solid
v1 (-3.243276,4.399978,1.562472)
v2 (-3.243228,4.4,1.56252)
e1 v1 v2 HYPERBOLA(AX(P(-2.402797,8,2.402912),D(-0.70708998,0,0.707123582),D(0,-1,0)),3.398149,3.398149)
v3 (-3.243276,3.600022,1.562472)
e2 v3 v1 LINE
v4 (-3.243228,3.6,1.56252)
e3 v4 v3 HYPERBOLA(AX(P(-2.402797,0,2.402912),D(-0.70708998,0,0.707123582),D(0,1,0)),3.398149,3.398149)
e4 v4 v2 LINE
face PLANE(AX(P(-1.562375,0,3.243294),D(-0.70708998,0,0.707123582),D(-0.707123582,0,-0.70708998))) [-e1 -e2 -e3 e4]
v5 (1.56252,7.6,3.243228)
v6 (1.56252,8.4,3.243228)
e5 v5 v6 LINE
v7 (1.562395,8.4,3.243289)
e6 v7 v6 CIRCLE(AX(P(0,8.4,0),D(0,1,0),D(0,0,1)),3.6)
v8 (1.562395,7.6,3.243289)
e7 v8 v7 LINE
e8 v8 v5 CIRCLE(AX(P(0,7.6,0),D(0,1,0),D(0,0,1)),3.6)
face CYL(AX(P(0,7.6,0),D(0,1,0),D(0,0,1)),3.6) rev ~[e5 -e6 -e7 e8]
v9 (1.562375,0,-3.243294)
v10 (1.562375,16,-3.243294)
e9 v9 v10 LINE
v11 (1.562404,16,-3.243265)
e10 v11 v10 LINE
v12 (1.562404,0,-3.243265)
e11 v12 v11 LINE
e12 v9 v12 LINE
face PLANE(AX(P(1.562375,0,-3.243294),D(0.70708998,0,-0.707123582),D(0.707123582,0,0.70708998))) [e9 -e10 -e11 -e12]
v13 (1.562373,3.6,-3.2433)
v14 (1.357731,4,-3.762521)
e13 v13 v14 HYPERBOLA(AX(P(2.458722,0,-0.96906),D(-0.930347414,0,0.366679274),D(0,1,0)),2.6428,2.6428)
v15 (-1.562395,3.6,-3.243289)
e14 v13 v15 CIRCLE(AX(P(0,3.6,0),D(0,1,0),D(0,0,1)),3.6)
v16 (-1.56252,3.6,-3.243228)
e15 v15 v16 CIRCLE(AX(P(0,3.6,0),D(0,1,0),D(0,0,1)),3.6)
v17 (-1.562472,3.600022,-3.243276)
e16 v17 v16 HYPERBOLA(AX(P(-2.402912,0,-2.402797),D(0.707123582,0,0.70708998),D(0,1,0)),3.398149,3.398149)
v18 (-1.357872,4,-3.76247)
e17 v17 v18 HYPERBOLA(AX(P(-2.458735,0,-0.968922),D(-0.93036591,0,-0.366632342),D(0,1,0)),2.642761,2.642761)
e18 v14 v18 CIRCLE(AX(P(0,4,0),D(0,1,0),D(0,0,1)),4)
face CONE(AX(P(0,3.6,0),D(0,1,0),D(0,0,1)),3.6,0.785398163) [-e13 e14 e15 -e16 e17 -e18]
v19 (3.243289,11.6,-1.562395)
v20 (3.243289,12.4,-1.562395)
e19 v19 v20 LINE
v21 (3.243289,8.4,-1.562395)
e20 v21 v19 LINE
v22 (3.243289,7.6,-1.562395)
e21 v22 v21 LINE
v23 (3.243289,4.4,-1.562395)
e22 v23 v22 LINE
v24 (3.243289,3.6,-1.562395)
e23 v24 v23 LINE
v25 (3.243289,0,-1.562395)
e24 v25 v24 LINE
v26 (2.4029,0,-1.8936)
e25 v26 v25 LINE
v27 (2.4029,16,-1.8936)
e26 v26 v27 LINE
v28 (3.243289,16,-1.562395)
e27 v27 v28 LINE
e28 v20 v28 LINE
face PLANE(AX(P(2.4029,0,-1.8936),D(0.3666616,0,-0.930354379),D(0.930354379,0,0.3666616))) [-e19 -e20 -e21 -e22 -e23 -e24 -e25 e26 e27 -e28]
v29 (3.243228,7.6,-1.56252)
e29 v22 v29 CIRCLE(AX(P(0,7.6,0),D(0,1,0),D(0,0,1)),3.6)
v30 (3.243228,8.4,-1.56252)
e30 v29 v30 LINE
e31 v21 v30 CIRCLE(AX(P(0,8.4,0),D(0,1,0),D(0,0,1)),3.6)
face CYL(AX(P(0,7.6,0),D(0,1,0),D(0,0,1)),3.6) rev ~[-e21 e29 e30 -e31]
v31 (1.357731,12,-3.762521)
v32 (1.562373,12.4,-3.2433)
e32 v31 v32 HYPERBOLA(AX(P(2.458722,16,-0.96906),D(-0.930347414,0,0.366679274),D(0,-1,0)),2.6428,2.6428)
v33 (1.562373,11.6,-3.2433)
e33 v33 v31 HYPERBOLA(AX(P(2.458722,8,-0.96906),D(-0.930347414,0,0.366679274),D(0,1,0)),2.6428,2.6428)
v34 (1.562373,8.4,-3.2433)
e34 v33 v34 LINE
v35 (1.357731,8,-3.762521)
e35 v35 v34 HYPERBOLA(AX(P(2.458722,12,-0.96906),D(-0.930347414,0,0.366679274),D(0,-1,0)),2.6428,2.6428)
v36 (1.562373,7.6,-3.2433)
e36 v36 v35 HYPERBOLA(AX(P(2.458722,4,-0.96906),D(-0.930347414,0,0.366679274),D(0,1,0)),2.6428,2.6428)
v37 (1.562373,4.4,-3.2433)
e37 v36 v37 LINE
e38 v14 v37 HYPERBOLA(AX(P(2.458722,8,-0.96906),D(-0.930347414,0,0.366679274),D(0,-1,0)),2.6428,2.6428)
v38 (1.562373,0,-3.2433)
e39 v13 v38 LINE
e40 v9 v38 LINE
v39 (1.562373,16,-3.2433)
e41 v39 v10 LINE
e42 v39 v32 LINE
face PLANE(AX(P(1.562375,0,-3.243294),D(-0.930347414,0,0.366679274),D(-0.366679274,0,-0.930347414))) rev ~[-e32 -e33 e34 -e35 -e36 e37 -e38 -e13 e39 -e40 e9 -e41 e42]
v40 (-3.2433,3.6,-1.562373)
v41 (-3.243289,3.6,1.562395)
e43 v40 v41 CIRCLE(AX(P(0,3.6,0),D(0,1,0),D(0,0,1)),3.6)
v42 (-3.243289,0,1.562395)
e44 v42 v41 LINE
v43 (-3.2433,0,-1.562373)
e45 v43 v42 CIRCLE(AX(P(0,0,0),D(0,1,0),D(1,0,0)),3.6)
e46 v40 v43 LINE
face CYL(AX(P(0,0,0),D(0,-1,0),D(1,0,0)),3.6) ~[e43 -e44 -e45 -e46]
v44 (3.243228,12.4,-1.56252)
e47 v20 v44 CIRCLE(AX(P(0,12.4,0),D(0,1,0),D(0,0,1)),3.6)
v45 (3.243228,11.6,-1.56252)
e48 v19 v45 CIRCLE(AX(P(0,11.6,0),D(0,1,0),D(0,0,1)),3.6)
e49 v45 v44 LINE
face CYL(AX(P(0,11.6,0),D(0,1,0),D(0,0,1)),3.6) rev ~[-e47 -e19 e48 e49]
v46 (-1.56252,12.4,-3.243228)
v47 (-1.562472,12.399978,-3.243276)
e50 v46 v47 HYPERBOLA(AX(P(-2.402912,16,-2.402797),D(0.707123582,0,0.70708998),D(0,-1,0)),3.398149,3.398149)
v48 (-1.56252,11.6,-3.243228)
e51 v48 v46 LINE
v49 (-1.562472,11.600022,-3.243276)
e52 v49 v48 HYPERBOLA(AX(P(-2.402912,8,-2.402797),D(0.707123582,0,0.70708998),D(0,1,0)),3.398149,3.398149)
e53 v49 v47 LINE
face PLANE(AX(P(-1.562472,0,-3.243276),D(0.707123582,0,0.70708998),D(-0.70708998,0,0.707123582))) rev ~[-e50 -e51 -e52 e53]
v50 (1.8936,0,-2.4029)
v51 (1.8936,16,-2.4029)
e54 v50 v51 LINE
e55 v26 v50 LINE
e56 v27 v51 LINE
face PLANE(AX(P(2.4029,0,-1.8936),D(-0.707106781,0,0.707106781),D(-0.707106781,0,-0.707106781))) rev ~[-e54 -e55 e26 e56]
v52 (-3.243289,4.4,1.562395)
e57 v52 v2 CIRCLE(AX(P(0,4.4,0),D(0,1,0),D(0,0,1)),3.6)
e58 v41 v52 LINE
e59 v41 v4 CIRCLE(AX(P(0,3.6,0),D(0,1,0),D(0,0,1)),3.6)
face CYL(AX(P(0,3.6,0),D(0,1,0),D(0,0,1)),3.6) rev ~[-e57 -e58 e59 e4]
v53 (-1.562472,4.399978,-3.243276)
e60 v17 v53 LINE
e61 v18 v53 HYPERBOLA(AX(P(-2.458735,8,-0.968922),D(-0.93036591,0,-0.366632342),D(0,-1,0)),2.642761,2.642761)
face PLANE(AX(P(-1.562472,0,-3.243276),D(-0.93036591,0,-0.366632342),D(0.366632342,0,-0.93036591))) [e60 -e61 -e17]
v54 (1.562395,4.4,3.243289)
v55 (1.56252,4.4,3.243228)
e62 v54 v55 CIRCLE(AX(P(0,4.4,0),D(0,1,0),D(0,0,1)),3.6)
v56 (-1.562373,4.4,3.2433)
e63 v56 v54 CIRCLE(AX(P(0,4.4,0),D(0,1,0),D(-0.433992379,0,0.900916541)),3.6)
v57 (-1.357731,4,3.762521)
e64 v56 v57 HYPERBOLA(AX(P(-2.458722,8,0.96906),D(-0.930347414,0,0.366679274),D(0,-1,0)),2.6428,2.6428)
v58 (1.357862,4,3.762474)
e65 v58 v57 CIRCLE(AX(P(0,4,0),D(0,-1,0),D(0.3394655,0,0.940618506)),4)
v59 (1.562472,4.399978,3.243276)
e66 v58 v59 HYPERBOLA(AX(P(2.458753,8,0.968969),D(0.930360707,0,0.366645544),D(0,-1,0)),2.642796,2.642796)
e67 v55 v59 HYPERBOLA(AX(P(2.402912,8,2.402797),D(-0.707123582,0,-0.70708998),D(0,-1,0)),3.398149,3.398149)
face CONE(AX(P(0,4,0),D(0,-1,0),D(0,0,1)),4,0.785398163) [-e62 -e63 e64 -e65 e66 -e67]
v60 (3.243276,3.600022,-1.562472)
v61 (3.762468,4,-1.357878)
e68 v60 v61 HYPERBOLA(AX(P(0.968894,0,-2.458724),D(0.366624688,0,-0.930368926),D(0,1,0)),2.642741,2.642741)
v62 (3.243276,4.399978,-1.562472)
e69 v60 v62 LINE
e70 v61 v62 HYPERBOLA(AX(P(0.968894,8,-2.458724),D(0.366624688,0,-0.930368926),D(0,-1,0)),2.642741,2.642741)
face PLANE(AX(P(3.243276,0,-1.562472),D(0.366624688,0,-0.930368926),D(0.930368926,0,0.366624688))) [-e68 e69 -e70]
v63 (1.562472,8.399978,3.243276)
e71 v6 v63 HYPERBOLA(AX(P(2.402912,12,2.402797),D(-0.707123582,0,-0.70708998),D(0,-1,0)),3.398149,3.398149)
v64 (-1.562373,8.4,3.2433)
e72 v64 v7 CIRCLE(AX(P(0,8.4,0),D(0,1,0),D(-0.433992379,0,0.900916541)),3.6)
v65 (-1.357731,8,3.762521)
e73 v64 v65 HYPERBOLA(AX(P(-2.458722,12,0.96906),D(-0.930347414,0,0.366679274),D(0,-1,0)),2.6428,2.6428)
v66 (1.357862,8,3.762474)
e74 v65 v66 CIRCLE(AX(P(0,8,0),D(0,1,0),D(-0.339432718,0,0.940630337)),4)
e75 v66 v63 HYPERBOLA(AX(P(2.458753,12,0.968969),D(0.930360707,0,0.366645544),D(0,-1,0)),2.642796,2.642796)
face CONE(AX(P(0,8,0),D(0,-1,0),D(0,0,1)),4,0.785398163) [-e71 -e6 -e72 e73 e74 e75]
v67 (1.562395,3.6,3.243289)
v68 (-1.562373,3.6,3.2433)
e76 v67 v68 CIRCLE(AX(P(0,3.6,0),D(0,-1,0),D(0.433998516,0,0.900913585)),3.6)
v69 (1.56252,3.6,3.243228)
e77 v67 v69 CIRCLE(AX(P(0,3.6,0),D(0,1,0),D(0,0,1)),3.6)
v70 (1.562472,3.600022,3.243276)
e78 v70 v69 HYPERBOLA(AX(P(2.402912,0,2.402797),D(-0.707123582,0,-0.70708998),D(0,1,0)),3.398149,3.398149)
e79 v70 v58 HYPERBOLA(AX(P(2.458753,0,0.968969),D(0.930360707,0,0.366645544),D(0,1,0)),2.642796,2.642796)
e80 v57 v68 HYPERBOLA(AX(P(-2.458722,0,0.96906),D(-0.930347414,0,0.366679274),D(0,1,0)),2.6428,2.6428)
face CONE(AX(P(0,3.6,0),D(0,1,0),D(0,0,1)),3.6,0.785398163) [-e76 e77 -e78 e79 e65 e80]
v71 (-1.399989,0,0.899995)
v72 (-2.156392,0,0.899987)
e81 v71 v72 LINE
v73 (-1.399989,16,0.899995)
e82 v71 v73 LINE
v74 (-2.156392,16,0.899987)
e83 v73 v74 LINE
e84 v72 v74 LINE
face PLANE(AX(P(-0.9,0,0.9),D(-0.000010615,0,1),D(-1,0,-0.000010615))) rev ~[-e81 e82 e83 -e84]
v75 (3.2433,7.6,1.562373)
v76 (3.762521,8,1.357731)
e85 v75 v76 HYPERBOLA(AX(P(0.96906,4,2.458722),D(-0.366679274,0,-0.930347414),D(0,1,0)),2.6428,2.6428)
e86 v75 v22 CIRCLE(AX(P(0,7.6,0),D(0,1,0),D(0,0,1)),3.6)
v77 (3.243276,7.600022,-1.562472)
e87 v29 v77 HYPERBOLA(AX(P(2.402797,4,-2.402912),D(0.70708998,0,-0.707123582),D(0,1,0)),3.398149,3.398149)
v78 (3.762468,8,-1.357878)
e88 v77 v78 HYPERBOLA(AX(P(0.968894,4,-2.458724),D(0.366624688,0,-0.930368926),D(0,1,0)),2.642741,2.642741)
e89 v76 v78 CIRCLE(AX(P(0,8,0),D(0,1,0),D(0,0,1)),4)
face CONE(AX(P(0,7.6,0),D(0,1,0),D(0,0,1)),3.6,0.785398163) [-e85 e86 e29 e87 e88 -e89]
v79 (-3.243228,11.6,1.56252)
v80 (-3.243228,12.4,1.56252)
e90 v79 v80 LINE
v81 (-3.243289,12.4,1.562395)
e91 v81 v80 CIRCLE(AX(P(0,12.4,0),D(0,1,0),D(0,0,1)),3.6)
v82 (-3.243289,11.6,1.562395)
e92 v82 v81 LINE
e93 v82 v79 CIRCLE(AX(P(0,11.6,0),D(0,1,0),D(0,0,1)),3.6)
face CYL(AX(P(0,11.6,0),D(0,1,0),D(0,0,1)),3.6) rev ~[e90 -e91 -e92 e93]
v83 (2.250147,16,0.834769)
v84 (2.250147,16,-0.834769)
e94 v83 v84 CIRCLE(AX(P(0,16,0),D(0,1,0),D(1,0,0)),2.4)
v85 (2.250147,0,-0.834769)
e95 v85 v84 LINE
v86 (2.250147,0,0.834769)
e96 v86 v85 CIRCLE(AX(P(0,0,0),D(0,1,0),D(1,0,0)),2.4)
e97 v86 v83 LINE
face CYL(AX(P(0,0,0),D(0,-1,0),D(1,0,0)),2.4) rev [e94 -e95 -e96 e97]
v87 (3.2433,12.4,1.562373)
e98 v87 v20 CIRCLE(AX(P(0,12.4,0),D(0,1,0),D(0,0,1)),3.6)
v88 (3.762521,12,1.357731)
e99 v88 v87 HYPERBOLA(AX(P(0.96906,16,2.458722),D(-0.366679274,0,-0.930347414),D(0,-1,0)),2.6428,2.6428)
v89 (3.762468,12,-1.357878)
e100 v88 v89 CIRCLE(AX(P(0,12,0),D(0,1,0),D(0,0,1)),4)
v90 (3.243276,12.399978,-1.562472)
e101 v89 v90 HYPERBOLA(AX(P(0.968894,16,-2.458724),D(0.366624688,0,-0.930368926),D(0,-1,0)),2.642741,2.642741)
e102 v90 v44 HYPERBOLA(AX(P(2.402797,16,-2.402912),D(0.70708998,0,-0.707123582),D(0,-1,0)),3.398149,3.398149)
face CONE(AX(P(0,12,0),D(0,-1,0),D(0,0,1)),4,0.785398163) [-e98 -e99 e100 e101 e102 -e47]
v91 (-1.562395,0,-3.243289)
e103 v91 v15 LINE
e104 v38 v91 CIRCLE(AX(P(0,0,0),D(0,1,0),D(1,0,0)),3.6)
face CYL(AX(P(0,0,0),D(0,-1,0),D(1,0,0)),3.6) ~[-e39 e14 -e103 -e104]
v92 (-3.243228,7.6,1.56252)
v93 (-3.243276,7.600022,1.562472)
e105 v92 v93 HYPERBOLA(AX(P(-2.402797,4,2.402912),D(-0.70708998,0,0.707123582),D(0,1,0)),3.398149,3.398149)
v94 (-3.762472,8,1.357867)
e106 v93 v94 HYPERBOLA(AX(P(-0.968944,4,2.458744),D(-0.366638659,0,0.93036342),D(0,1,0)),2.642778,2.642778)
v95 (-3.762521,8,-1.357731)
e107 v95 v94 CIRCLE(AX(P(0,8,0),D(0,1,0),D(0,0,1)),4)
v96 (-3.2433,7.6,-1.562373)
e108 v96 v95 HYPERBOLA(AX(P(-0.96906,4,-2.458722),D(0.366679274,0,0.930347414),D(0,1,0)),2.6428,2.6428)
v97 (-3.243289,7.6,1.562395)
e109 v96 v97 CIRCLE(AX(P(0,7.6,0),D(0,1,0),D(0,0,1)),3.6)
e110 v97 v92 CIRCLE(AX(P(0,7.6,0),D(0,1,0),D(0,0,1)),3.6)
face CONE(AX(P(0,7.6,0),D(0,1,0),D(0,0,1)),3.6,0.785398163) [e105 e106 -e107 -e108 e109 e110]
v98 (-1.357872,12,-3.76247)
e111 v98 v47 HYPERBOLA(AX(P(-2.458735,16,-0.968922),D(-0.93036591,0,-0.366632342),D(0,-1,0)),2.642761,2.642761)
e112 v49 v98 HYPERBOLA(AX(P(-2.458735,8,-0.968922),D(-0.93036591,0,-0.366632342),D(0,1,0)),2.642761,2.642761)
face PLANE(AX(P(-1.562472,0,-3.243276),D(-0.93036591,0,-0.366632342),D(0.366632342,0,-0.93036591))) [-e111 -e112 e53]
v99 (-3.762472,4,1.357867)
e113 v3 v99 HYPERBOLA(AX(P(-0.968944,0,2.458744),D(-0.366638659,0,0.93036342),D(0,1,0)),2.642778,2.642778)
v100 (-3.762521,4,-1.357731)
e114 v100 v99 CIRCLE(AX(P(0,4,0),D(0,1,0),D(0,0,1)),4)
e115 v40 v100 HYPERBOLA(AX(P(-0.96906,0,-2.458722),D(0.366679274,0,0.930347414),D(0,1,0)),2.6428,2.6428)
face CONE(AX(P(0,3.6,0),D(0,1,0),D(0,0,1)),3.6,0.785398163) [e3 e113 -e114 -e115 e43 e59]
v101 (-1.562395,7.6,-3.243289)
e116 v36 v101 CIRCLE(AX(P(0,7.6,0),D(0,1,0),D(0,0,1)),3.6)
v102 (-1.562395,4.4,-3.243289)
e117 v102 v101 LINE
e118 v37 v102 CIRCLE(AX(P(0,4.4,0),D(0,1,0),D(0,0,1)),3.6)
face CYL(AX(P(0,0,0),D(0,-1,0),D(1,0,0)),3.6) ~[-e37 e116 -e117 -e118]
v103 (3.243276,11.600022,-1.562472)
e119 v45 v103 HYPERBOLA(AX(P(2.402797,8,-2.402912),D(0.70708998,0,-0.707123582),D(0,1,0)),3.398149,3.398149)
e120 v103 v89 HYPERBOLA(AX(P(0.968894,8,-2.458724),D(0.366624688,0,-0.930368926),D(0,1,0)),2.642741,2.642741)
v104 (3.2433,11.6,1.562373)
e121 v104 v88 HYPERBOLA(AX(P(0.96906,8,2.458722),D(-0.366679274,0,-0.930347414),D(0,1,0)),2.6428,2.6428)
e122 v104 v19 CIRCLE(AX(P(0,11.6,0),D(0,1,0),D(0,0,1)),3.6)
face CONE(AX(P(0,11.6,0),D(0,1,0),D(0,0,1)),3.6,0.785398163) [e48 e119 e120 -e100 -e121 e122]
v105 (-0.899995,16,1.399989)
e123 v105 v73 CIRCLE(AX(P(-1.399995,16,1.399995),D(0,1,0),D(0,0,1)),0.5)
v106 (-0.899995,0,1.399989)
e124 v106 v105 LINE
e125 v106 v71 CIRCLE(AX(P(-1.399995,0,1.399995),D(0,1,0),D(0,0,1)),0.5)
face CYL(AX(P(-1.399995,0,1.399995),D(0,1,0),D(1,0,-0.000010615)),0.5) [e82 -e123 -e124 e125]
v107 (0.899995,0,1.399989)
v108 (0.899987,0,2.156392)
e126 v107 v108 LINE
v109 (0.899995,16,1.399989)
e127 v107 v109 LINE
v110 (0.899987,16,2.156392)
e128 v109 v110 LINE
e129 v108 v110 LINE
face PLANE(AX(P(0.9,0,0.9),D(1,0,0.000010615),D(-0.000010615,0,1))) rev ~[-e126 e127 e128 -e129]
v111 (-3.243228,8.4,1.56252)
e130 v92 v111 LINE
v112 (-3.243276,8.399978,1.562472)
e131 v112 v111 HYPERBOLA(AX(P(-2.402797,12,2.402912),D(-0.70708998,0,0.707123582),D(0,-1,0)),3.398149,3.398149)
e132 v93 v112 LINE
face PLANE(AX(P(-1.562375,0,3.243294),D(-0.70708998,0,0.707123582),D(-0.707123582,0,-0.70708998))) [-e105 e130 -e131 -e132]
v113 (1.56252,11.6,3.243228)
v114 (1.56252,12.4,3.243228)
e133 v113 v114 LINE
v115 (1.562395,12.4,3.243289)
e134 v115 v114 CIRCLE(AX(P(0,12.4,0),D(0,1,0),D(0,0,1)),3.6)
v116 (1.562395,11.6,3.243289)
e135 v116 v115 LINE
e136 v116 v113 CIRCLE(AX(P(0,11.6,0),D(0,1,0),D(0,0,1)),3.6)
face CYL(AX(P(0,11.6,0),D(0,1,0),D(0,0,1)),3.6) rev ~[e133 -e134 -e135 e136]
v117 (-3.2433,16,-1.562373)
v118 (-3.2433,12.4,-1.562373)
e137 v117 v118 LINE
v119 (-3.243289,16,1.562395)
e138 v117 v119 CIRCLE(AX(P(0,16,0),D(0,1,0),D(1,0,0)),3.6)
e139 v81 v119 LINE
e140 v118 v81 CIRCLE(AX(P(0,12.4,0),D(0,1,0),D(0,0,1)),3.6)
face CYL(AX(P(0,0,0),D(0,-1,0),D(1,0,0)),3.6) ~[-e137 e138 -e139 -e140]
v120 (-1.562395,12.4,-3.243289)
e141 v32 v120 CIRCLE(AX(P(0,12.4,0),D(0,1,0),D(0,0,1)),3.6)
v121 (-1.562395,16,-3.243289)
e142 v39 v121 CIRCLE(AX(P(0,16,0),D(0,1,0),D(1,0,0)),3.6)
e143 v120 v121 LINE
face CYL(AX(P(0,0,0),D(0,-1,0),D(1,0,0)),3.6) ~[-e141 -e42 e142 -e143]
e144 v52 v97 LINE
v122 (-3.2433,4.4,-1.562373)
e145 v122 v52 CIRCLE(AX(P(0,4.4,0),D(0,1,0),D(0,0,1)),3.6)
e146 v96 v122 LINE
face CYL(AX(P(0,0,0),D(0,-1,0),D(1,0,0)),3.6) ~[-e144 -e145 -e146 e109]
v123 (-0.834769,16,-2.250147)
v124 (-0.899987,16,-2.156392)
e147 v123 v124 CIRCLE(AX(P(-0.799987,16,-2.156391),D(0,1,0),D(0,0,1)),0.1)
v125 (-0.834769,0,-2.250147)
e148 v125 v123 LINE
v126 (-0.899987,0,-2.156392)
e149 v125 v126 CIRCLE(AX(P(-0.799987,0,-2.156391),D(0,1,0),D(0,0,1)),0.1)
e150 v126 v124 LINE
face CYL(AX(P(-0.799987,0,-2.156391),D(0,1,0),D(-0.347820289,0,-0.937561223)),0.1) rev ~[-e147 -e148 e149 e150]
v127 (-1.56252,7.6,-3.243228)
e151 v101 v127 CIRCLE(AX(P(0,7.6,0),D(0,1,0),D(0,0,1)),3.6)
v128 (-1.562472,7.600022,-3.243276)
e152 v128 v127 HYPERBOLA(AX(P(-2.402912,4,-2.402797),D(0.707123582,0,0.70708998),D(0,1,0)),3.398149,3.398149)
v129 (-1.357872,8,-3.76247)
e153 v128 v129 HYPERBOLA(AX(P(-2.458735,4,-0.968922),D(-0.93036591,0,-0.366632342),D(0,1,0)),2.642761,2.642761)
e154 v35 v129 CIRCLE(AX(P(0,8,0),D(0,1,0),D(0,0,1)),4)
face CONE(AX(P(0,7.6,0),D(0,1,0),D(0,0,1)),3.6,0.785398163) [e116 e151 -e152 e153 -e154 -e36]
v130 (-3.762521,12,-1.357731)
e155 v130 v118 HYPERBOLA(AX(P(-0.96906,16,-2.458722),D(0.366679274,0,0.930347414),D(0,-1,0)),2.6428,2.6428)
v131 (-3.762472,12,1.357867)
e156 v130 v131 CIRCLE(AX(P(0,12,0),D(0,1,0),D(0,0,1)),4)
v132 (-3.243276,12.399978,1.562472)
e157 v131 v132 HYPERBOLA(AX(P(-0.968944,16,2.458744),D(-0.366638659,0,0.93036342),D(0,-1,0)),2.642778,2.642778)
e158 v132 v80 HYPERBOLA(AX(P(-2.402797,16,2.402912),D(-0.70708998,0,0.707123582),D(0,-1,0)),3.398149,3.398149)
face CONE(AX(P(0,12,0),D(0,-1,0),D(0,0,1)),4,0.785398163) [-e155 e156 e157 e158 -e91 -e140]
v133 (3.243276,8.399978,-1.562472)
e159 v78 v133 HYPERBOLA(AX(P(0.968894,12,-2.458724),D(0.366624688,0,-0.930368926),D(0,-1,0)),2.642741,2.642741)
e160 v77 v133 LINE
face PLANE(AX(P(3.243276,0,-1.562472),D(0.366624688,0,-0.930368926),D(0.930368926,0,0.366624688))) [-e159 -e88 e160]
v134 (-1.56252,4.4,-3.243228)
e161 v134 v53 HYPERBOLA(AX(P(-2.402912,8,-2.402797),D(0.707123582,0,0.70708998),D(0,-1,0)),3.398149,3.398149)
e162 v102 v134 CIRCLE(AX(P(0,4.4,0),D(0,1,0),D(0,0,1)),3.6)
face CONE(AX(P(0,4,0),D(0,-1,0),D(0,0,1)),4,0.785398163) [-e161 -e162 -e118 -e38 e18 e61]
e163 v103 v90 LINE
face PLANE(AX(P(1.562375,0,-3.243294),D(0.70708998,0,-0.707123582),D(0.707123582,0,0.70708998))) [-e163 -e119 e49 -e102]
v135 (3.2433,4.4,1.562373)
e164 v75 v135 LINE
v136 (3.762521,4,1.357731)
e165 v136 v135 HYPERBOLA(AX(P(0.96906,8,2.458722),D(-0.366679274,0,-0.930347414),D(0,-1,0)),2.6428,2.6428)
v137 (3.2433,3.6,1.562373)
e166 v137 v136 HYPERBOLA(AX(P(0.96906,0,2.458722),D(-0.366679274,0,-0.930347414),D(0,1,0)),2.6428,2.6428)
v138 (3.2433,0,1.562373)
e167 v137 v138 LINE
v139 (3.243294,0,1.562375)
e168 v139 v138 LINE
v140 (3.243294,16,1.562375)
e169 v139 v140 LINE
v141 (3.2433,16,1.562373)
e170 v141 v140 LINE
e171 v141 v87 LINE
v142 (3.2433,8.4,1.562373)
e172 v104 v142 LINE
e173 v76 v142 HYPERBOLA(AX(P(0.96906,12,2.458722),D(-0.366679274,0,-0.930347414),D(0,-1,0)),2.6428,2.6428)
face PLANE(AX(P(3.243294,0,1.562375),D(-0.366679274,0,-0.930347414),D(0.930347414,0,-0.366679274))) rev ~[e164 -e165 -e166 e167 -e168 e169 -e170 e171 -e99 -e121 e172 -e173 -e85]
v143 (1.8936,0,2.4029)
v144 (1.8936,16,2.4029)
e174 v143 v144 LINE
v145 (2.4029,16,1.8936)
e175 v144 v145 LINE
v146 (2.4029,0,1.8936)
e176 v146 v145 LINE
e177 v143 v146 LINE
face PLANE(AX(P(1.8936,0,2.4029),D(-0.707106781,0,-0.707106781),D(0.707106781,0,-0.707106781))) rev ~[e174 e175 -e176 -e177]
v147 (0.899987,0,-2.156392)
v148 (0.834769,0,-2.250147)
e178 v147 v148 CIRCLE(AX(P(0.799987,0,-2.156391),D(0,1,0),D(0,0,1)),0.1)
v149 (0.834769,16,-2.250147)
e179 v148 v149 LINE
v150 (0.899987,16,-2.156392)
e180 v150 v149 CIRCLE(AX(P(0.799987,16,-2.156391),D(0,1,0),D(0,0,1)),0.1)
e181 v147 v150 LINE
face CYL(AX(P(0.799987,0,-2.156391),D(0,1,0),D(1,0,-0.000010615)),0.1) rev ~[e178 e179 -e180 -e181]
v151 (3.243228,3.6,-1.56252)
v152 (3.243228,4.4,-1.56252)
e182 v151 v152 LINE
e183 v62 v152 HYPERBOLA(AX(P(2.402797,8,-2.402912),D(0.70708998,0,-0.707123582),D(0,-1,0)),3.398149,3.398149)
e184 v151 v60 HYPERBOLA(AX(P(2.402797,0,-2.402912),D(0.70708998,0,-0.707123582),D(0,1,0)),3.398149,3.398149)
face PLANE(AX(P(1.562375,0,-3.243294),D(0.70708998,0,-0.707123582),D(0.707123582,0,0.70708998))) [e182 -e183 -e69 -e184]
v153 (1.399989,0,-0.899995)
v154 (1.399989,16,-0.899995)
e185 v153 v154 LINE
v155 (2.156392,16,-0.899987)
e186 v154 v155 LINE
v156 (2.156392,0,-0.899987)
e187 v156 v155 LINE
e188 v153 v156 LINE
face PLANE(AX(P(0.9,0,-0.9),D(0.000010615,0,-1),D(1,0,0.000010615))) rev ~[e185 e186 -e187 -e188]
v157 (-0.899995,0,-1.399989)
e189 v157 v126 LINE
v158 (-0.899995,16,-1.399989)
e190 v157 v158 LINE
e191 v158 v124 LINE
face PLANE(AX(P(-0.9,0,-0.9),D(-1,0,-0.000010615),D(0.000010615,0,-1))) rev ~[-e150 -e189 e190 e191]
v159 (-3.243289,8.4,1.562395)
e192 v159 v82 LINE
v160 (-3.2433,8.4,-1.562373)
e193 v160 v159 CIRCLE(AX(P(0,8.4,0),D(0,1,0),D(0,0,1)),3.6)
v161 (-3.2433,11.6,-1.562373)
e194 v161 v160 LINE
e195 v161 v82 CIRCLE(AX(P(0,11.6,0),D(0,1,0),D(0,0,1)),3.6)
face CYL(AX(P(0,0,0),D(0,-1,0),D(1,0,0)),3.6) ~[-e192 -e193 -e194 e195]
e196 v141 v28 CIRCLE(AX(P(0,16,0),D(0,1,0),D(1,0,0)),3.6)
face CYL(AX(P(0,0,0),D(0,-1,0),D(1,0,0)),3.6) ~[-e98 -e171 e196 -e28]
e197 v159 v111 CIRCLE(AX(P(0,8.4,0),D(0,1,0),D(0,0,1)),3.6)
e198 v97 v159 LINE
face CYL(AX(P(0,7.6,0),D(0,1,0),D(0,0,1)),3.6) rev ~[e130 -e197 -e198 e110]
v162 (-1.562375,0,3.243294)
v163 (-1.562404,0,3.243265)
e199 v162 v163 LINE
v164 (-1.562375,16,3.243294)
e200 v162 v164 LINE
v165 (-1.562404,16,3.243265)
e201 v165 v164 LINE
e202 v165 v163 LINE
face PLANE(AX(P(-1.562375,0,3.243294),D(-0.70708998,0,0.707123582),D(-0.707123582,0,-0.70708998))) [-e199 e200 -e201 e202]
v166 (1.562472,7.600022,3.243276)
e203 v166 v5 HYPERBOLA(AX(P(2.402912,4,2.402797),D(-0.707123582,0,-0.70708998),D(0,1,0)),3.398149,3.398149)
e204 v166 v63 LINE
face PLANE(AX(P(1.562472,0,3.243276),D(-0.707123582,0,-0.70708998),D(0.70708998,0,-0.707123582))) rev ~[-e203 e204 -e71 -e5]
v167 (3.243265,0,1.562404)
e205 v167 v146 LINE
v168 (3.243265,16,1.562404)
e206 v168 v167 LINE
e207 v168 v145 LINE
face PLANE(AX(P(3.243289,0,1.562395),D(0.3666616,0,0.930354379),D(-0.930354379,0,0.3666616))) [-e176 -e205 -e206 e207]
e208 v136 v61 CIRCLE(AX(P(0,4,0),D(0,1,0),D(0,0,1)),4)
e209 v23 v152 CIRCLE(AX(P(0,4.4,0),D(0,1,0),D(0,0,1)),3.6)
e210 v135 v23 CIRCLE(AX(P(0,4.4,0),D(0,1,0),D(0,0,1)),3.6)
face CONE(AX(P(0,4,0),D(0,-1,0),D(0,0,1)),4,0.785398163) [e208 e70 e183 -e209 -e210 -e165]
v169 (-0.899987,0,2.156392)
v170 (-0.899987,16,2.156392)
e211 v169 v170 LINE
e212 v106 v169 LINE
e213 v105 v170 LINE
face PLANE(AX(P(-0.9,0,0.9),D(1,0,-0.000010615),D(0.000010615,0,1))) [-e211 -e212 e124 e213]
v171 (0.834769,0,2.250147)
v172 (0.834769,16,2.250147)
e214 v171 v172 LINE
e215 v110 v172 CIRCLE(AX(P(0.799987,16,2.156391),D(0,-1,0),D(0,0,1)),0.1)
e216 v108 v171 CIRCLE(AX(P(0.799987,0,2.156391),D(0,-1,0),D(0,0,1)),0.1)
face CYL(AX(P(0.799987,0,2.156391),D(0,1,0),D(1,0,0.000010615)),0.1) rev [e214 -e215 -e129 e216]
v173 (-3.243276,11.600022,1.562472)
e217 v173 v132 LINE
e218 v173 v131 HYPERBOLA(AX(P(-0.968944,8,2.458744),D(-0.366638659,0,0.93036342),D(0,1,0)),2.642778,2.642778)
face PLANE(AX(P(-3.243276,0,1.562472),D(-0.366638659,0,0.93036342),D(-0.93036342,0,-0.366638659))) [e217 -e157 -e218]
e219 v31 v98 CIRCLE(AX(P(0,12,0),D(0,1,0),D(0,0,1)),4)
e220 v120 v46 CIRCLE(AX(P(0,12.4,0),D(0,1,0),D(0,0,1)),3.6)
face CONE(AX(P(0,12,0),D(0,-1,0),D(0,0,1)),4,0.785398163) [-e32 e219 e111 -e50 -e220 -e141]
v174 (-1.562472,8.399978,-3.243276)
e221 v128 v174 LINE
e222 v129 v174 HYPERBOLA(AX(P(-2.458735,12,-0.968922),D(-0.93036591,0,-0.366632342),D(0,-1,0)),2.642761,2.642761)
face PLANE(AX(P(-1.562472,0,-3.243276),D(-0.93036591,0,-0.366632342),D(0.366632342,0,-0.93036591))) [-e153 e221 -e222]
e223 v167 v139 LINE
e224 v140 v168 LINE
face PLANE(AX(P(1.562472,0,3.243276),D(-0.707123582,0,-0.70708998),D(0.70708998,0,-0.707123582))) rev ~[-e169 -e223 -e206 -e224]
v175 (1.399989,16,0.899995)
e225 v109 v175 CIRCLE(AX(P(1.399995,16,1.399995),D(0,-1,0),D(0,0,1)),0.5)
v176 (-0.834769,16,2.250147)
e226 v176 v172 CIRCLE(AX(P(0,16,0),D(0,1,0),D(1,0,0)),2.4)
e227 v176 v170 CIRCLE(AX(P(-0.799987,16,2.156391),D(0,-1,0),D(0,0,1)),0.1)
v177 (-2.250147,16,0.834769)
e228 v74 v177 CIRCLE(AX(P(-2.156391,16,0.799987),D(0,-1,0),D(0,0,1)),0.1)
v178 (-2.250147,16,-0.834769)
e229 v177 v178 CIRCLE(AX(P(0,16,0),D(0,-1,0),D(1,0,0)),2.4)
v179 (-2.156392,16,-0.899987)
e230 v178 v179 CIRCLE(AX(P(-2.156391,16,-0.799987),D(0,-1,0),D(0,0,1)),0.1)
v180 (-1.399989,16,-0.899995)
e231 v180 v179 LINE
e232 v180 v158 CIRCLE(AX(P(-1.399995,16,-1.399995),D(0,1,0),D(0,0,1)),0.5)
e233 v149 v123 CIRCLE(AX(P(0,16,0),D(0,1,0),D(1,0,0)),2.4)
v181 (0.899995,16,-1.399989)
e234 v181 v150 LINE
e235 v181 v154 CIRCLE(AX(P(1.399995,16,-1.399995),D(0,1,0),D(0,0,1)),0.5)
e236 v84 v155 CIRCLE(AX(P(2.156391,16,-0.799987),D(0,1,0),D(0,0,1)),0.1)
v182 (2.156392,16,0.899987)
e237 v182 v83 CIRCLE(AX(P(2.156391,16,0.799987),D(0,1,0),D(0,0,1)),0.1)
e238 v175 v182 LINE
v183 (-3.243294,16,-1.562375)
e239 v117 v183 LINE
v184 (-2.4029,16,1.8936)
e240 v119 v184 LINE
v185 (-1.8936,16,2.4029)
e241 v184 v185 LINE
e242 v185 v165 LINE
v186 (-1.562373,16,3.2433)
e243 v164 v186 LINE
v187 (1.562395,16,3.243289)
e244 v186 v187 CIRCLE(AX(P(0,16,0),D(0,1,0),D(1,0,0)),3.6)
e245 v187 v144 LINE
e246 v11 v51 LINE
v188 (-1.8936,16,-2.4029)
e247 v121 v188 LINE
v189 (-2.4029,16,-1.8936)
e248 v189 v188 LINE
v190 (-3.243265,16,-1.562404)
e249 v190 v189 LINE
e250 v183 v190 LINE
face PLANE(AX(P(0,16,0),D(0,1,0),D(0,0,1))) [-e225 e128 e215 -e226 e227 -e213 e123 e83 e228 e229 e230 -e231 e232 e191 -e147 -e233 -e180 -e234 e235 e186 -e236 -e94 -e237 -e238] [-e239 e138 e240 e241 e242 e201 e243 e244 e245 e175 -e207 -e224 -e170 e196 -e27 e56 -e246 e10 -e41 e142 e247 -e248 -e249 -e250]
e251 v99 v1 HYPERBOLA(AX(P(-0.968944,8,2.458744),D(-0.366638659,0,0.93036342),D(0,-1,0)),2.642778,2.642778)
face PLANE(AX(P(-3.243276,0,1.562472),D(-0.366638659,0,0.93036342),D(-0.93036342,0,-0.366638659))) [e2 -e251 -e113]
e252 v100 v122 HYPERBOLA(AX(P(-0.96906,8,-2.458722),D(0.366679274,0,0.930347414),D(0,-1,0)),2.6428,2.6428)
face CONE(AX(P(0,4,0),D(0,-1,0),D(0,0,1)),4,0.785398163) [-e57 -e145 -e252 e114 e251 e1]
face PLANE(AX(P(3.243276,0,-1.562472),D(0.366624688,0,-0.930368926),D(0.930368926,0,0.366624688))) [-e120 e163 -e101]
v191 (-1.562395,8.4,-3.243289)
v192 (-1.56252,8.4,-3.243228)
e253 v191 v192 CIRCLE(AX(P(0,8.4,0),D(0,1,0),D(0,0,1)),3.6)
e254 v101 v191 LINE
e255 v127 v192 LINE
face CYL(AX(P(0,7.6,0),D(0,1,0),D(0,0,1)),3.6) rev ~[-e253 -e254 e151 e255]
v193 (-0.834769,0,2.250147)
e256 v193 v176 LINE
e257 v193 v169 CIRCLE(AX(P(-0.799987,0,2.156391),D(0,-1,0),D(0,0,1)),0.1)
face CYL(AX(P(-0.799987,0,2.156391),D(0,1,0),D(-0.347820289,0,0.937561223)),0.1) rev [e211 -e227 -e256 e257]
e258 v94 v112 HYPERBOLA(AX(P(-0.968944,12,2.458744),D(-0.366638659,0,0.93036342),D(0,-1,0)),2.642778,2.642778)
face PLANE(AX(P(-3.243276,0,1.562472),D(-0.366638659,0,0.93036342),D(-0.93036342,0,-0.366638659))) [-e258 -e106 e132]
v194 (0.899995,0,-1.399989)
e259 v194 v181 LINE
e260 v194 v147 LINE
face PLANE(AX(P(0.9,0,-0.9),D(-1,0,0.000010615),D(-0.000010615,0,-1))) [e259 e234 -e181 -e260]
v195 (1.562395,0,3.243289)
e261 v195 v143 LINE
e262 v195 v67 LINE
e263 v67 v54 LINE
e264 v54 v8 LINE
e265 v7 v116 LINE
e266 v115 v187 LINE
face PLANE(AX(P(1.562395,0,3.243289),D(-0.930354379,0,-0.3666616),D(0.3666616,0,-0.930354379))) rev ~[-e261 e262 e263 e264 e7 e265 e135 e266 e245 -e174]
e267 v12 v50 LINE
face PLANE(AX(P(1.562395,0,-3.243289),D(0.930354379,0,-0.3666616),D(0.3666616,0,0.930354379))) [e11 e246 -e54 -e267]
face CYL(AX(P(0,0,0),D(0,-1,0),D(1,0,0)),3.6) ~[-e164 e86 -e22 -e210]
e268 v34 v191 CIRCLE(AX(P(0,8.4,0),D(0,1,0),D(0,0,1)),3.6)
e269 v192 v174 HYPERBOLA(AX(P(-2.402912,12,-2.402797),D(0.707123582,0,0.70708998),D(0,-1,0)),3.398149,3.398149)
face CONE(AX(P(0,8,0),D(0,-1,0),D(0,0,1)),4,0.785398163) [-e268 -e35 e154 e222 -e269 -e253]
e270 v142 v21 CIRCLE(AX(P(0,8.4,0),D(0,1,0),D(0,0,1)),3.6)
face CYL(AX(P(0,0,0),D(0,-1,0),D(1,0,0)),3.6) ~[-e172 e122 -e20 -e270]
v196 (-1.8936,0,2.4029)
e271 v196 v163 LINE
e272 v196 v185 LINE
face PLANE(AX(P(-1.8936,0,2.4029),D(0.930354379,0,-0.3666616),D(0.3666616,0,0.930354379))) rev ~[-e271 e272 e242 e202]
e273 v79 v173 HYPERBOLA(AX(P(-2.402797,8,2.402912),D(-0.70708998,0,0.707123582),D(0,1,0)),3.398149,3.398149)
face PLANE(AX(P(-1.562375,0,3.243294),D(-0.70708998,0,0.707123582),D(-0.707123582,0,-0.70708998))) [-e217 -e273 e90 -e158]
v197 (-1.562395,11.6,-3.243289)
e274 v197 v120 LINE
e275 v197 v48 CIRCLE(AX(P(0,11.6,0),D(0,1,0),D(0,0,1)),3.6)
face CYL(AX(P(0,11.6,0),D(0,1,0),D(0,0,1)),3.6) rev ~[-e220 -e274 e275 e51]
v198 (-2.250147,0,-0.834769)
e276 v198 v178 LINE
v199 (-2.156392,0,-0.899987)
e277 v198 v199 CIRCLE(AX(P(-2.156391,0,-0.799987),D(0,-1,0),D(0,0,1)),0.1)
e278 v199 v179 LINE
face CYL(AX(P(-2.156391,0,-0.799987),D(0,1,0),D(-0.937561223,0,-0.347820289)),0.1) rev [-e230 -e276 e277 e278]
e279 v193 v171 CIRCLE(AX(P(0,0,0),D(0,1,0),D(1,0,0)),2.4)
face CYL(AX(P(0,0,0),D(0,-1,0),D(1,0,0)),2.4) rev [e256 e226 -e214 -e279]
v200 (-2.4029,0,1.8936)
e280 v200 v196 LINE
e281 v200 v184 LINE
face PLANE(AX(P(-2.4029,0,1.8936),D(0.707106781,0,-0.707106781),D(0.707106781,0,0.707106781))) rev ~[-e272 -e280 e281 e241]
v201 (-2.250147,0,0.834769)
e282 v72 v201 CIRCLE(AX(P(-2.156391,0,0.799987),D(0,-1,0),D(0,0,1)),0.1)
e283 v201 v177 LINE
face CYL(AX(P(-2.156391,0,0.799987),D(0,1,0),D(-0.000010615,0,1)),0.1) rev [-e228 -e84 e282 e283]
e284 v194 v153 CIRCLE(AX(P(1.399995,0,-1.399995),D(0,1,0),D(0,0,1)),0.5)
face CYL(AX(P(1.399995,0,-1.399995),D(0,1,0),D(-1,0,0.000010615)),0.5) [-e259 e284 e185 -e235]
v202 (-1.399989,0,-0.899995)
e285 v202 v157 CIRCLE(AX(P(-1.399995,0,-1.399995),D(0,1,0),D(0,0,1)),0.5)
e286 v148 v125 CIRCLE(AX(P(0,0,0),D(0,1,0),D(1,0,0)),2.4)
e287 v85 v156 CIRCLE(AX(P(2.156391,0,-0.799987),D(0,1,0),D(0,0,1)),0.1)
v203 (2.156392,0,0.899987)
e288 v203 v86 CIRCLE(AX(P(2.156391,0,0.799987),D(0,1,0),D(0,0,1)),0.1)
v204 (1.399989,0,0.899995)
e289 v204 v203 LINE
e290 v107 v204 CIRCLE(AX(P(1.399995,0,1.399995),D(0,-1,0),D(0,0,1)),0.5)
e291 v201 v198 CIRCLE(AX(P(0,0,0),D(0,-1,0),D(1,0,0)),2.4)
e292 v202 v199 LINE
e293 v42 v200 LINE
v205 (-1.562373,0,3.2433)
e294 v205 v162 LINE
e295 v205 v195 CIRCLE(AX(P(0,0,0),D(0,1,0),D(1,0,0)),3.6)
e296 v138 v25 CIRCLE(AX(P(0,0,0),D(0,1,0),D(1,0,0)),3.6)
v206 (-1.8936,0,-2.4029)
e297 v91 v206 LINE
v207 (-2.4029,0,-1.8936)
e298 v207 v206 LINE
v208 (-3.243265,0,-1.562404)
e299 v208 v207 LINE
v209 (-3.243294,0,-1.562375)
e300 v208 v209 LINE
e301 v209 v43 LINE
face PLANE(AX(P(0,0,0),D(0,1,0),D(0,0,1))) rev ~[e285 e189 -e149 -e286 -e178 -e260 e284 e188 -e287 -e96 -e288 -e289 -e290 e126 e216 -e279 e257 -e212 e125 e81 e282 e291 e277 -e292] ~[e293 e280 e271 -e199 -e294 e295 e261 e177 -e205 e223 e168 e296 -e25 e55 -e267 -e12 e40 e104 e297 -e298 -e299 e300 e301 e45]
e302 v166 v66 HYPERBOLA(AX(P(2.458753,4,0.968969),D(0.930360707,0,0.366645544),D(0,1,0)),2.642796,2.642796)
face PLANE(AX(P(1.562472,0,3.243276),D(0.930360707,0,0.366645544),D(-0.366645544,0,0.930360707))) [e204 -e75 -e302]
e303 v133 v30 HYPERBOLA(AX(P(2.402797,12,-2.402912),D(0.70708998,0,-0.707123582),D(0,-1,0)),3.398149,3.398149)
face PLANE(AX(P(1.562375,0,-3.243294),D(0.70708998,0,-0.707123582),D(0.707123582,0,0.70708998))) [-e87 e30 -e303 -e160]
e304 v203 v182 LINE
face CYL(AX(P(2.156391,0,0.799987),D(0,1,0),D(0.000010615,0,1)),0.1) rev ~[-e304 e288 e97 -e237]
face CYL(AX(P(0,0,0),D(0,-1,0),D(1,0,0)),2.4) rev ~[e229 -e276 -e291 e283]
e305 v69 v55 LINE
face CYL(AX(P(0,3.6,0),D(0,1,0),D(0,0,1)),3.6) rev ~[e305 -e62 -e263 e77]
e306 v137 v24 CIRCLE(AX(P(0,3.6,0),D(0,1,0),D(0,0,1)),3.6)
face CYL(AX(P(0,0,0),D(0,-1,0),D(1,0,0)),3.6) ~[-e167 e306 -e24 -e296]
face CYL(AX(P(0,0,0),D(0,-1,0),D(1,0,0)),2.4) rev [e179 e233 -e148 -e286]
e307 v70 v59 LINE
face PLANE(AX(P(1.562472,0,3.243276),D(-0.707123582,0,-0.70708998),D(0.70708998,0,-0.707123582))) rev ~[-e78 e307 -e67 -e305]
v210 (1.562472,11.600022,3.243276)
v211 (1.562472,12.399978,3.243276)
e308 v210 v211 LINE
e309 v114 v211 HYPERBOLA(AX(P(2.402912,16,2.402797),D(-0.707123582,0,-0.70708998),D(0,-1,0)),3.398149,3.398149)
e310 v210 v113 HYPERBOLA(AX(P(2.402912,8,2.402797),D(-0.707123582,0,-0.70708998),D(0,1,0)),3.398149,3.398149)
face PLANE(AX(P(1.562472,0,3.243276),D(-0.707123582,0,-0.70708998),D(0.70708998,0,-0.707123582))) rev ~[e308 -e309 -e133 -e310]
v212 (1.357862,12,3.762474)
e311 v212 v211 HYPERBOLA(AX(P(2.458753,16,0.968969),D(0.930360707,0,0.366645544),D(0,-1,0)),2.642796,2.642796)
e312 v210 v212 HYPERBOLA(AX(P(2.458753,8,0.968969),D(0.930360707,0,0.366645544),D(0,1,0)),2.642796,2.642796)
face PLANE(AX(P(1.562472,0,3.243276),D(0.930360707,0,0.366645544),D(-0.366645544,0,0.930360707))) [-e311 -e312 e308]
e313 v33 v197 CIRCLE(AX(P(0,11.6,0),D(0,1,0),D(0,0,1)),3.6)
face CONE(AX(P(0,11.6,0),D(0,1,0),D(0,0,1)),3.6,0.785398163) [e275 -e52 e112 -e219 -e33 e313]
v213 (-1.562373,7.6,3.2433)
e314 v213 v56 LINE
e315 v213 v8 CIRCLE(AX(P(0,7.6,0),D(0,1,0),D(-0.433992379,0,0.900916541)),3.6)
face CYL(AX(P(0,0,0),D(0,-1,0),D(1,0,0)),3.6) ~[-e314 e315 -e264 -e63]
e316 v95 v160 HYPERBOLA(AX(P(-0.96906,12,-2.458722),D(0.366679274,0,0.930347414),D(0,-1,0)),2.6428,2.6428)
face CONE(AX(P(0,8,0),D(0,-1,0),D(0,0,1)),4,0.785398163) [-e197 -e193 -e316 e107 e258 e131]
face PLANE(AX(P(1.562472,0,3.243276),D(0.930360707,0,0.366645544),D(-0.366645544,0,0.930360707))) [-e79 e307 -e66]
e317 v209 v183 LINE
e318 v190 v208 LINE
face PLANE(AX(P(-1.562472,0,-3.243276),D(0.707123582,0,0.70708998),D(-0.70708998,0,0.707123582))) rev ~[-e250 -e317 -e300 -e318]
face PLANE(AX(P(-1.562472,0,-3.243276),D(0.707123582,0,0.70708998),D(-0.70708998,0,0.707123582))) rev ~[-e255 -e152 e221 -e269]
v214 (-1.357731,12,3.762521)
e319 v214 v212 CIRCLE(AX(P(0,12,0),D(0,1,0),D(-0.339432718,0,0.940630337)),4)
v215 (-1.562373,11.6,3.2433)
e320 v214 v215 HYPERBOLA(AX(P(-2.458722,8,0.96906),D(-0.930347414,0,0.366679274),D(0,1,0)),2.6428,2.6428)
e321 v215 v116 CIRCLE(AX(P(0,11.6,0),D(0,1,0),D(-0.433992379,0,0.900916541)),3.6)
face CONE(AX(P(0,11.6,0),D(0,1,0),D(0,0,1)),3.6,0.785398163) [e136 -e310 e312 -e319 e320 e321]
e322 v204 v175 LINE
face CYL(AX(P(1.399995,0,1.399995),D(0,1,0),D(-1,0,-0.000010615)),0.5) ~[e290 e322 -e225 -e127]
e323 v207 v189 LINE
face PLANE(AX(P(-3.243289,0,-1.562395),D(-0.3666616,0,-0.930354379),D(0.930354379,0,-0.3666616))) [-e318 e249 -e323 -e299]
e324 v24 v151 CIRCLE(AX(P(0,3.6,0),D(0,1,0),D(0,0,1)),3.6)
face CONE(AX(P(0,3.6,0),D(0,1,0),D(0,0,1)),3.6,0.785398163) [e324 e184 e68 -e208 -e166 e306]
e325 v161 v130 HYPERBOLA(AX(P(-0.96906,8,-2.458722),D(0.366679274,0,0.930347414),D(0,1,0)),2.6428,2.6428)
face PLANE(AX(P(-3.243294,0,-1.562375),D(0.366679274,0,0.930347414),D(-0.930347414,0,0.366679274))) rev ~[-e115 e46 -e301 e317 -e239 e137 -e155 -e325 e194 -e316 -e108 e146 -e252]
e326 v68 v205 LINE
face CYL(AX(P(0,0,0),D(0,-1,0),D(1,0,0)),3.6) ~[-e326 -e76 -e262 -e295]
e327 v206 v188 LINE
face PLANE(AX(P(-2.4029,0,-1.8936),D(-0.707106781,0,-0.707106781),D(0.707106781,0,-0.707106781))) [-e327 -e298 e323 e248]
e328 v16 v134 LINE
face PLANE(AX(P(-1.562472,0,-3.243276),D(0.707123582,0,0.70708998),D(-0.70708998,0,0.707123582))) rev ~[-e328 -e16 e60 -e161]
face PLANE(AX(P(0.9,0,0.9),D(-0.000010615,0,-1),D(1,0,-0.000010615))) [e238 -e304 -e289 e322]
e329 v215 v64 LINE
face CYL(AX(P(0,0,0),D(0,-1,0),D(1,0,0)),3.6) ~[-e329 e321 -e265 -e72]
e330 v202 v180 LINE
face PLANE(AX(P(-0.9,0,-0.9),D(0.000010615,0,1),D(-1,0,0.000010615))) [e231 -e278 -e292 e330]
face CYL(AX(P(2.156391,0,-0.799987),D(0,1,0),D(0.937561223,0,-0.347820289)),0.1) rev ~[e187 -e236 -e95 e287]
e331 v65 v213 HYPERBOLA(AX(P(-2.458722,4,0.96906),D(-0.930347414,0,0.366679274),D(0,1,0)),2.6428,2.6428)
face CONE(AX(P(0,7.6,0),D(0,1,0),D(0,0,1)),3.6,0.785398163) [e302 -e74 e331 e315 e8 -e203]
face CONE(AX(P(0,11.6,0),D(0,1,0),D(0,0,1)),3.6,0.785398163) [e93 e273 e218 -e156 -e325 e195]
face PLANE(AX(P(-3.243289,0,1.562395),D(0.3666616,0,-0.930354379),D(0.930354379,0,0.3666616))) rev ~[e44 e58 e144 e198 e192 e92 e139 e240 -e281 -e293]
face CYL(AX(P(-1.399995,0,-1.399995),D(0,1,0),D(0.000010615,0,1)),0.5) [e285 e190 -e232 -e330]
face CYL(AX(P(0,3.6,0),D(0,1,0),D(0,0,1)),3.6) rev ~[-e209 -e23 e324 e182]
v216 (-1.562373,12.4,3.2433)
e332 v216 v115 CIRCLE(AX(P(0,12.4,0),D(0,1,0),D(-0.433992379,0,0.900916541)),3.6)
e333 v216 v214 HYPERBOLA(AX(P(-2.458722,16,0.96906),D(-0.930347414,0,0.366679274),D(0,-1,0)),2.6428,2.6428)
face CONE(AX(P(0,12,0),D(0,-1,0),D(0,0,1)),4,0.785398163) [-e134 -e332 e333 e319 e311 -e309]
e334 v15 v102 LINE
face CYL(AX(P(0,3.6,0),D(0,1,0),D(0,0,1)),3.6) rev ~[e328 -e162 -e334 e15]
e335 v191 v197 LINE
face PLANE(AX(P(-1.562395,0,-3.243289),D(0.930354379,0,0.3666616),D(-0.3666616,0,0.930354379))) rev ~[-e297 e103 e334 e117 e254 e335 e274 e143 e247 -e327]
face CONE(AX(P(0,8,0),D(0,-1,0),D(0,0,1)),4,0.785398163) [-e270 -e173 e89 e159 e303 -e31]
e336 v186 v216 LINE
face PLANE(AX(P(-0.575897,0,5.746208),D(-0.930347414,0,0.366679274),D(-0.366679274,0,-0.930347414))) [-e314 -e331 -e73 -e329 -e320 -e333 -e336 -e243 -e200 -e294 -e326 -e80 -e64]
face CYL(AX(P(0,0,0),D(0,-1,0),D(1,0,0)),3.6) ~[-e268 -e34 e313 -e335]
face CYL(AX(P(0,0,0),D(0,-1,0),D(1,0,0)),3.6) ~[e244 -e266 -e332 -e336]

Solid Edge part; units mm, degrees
sketch "Sketch1" plane through (0, 0, 0) normal (0, -1, 0) x (1, 0, 0)
  line L0 (0.9, 0.9) -> (0.9, 2.2249)
  arc A0 (-0.9, 2.2249) -> (0.9, 2.2249) centre (0, 0) cw
  line L1 (-0.9, 0.9) -> (-0.9, 2.2249)
  line L2 (-0.9, 0.9) -> (-2.2249, 0.9)
  line L3 (-0.9, -0.9) -> (-2.2249, -0.9)
  line L4 (-0.9, -0.9) -> (-0.9, -2.2249)
  arc A1 (0.9, -2.2249) -> (-0.9, -2.2249) centre (0, 0) cw
  line L5 (0.9, -0.9) -> (0.9, -2.2249)
  line L6 (0.9, -0.9) -> (2.2249, -0.9)
  arc A2 (2.2249, 0.9) -> (2.2249, -0.9) centre (0, 0) cw
  line L7 (0.9, 0.9) -> (2.2249, 0.9)
  arc A3 (-2.2249, 0.9) -> (-2.2249, -0.9) centre (0, 0) ccw
  line L8 (1.5624, 3.2433) -> (1.8936, 2.4029)
  line L9 (1.8936, 2.4029) -> (2.4029, 1.8936)
  line L10 (3.2433, 1.5624) -> (2.4029, 1.8936)
  arc A4 (3.2433, 1.5624) -> (3.2433, -1.5624) centre (0, 0) cw
  line L11 (2.4029, -1.8936) -> (3.2433, -1.5624)
  line L12 (2.4029, -1.8936) -> (1.8936, -2.4029)
  line L13 (1.5624, -3.2433) -> (1.8936, -2.4029)
  line L14 (-1.5624, -3.2433) -> (-1.8936, -2.4029)
  line L15 (-2.4029, -1.8936) -> (-1.8936, -2.4029)
  line L16 (-3.2433, -1.5624) -> (-2.4029, -1.8936)
  arc A5 (-3.2433, -1.5624) -> (-3.2433, 1.5624) centre (0, 0) cw
  line L17 (-3.2433, 1.5624) -> (-2.4029, 1.8936)
  line L18 (-2.4029, 1.8936) -> (-1.8936, 2.4029)
  line L19 (-1.8936, 2.4029) -> (-1.5624, 3.2433)
  arc A6 (-1.5624, 3.2433) -> (1.5624, 3.2433) centre (0, 0) cw
  arc A7 (1.5624, -3.2433) -> (-1.5624, -3.2433) centre (0, 0) cw
extrude "Protrusion1" add sketch "Sketch1" against normal blind 16
fillet "Round_1" radius 0.5 4 edges at (-0.9, 8, 0.9) (0.9, 8, 0.9) (-0.9, 8, -0.9) (0.9, 8, -0.9)
fillet "Round_2" radius 0.1 8 edges at (-0.9, 8, 2.2249) (0.9, 8, 2.2249) (2.2249, 8, 0.9) (2.2249, 8, -0.9) (0.9, 8, -2.2249) (-0.9, 8, -2.2249) (-2.2249, 8, -0.9) (-2.2249, 8, 0.9)
sketch "Sketch2" plane through (0, 0, 0) normal (1, 0, 0) x (0, 1, 0)
  line L0 (3.6, 3.6) -> (4, 4)
  line L1 (4, 4) -> (4.4, 3.6)
  line L2 (3.6, 3.6) -> (4.4, 3.6)
  line L3 (7.6, 3.6) -> (8, 4)
  line L4 (8, 4) -> (8.4, 3.6)
  line L5 (7.6, 3.6) -> (8.4, 3.6)
  line L6 (11.6, 3.6) -> (12, 4)
  line L7 (12, 4) -> (12.4, 3.6)
  line L8 (11.6, 3.6) -> (12.4, 3.6)
revolve "RevolvedProtrusion1" add sketch "Sketch2" angle 360 about axis through (0, -60, 0) along (0, 1, 0)
sketch "Sketch3" plane through (0, 0, 0) normal (0, -1, 0) x (0.3667, 0, 0.9304)
  line L0 (0.2644, 3.5903) -> (-0.5466, 4.4594)
  line L1 (5.1348, 2.6428) -> (-0.5466, 4.4594)
  line L2 (5.1348, 2.6428) -> (2.4445, 2.6428)
  line L3 (2.4445, 2.6428) -> (0.2644, 3.5903)
  line L4 (-2.6428, 2.4445) -> (-2.6428, 5.0265)
  line L5 (-2.6428, 5.0265) -> (-5.6228, -1.6322)
  line L6 (-3.5903, 0.2644) -> (-5.6228, -1.6322)
  line L7 (-3.5903, 0.2644) -> (-2.6428, 2.4445)
  line L8 (-0.2644, -3.5903) -> (2.1396, -6.1666)
  line L9 (2.1396, -6.1666) -> (-5.8081, -2.6428)
  line L10 (-2.4445, -2.6428) -> (-5.8081, -2.6428)
  line L11 (-2.4445, -2.6428) -> (-0.2644, -3.5903)
  line L12 (2.6428, -2.4445) -> (2.6428, -5.5844)
  line L13 (2.6428, -5.5844) -> (4.4924, -6.1388)
  line L14 (4.4924, -6.1388) -> (4.9608, 1.0145)
  line L15 (3.5903, -0.2644) -> (4.9608, 1.0145)
  line L16 (3.5903, -0.2644) -> (2.6428, -2.4445)
extrude "ExtrudedCutout_1" cut sketch "Sketch3" against normal blind 180
